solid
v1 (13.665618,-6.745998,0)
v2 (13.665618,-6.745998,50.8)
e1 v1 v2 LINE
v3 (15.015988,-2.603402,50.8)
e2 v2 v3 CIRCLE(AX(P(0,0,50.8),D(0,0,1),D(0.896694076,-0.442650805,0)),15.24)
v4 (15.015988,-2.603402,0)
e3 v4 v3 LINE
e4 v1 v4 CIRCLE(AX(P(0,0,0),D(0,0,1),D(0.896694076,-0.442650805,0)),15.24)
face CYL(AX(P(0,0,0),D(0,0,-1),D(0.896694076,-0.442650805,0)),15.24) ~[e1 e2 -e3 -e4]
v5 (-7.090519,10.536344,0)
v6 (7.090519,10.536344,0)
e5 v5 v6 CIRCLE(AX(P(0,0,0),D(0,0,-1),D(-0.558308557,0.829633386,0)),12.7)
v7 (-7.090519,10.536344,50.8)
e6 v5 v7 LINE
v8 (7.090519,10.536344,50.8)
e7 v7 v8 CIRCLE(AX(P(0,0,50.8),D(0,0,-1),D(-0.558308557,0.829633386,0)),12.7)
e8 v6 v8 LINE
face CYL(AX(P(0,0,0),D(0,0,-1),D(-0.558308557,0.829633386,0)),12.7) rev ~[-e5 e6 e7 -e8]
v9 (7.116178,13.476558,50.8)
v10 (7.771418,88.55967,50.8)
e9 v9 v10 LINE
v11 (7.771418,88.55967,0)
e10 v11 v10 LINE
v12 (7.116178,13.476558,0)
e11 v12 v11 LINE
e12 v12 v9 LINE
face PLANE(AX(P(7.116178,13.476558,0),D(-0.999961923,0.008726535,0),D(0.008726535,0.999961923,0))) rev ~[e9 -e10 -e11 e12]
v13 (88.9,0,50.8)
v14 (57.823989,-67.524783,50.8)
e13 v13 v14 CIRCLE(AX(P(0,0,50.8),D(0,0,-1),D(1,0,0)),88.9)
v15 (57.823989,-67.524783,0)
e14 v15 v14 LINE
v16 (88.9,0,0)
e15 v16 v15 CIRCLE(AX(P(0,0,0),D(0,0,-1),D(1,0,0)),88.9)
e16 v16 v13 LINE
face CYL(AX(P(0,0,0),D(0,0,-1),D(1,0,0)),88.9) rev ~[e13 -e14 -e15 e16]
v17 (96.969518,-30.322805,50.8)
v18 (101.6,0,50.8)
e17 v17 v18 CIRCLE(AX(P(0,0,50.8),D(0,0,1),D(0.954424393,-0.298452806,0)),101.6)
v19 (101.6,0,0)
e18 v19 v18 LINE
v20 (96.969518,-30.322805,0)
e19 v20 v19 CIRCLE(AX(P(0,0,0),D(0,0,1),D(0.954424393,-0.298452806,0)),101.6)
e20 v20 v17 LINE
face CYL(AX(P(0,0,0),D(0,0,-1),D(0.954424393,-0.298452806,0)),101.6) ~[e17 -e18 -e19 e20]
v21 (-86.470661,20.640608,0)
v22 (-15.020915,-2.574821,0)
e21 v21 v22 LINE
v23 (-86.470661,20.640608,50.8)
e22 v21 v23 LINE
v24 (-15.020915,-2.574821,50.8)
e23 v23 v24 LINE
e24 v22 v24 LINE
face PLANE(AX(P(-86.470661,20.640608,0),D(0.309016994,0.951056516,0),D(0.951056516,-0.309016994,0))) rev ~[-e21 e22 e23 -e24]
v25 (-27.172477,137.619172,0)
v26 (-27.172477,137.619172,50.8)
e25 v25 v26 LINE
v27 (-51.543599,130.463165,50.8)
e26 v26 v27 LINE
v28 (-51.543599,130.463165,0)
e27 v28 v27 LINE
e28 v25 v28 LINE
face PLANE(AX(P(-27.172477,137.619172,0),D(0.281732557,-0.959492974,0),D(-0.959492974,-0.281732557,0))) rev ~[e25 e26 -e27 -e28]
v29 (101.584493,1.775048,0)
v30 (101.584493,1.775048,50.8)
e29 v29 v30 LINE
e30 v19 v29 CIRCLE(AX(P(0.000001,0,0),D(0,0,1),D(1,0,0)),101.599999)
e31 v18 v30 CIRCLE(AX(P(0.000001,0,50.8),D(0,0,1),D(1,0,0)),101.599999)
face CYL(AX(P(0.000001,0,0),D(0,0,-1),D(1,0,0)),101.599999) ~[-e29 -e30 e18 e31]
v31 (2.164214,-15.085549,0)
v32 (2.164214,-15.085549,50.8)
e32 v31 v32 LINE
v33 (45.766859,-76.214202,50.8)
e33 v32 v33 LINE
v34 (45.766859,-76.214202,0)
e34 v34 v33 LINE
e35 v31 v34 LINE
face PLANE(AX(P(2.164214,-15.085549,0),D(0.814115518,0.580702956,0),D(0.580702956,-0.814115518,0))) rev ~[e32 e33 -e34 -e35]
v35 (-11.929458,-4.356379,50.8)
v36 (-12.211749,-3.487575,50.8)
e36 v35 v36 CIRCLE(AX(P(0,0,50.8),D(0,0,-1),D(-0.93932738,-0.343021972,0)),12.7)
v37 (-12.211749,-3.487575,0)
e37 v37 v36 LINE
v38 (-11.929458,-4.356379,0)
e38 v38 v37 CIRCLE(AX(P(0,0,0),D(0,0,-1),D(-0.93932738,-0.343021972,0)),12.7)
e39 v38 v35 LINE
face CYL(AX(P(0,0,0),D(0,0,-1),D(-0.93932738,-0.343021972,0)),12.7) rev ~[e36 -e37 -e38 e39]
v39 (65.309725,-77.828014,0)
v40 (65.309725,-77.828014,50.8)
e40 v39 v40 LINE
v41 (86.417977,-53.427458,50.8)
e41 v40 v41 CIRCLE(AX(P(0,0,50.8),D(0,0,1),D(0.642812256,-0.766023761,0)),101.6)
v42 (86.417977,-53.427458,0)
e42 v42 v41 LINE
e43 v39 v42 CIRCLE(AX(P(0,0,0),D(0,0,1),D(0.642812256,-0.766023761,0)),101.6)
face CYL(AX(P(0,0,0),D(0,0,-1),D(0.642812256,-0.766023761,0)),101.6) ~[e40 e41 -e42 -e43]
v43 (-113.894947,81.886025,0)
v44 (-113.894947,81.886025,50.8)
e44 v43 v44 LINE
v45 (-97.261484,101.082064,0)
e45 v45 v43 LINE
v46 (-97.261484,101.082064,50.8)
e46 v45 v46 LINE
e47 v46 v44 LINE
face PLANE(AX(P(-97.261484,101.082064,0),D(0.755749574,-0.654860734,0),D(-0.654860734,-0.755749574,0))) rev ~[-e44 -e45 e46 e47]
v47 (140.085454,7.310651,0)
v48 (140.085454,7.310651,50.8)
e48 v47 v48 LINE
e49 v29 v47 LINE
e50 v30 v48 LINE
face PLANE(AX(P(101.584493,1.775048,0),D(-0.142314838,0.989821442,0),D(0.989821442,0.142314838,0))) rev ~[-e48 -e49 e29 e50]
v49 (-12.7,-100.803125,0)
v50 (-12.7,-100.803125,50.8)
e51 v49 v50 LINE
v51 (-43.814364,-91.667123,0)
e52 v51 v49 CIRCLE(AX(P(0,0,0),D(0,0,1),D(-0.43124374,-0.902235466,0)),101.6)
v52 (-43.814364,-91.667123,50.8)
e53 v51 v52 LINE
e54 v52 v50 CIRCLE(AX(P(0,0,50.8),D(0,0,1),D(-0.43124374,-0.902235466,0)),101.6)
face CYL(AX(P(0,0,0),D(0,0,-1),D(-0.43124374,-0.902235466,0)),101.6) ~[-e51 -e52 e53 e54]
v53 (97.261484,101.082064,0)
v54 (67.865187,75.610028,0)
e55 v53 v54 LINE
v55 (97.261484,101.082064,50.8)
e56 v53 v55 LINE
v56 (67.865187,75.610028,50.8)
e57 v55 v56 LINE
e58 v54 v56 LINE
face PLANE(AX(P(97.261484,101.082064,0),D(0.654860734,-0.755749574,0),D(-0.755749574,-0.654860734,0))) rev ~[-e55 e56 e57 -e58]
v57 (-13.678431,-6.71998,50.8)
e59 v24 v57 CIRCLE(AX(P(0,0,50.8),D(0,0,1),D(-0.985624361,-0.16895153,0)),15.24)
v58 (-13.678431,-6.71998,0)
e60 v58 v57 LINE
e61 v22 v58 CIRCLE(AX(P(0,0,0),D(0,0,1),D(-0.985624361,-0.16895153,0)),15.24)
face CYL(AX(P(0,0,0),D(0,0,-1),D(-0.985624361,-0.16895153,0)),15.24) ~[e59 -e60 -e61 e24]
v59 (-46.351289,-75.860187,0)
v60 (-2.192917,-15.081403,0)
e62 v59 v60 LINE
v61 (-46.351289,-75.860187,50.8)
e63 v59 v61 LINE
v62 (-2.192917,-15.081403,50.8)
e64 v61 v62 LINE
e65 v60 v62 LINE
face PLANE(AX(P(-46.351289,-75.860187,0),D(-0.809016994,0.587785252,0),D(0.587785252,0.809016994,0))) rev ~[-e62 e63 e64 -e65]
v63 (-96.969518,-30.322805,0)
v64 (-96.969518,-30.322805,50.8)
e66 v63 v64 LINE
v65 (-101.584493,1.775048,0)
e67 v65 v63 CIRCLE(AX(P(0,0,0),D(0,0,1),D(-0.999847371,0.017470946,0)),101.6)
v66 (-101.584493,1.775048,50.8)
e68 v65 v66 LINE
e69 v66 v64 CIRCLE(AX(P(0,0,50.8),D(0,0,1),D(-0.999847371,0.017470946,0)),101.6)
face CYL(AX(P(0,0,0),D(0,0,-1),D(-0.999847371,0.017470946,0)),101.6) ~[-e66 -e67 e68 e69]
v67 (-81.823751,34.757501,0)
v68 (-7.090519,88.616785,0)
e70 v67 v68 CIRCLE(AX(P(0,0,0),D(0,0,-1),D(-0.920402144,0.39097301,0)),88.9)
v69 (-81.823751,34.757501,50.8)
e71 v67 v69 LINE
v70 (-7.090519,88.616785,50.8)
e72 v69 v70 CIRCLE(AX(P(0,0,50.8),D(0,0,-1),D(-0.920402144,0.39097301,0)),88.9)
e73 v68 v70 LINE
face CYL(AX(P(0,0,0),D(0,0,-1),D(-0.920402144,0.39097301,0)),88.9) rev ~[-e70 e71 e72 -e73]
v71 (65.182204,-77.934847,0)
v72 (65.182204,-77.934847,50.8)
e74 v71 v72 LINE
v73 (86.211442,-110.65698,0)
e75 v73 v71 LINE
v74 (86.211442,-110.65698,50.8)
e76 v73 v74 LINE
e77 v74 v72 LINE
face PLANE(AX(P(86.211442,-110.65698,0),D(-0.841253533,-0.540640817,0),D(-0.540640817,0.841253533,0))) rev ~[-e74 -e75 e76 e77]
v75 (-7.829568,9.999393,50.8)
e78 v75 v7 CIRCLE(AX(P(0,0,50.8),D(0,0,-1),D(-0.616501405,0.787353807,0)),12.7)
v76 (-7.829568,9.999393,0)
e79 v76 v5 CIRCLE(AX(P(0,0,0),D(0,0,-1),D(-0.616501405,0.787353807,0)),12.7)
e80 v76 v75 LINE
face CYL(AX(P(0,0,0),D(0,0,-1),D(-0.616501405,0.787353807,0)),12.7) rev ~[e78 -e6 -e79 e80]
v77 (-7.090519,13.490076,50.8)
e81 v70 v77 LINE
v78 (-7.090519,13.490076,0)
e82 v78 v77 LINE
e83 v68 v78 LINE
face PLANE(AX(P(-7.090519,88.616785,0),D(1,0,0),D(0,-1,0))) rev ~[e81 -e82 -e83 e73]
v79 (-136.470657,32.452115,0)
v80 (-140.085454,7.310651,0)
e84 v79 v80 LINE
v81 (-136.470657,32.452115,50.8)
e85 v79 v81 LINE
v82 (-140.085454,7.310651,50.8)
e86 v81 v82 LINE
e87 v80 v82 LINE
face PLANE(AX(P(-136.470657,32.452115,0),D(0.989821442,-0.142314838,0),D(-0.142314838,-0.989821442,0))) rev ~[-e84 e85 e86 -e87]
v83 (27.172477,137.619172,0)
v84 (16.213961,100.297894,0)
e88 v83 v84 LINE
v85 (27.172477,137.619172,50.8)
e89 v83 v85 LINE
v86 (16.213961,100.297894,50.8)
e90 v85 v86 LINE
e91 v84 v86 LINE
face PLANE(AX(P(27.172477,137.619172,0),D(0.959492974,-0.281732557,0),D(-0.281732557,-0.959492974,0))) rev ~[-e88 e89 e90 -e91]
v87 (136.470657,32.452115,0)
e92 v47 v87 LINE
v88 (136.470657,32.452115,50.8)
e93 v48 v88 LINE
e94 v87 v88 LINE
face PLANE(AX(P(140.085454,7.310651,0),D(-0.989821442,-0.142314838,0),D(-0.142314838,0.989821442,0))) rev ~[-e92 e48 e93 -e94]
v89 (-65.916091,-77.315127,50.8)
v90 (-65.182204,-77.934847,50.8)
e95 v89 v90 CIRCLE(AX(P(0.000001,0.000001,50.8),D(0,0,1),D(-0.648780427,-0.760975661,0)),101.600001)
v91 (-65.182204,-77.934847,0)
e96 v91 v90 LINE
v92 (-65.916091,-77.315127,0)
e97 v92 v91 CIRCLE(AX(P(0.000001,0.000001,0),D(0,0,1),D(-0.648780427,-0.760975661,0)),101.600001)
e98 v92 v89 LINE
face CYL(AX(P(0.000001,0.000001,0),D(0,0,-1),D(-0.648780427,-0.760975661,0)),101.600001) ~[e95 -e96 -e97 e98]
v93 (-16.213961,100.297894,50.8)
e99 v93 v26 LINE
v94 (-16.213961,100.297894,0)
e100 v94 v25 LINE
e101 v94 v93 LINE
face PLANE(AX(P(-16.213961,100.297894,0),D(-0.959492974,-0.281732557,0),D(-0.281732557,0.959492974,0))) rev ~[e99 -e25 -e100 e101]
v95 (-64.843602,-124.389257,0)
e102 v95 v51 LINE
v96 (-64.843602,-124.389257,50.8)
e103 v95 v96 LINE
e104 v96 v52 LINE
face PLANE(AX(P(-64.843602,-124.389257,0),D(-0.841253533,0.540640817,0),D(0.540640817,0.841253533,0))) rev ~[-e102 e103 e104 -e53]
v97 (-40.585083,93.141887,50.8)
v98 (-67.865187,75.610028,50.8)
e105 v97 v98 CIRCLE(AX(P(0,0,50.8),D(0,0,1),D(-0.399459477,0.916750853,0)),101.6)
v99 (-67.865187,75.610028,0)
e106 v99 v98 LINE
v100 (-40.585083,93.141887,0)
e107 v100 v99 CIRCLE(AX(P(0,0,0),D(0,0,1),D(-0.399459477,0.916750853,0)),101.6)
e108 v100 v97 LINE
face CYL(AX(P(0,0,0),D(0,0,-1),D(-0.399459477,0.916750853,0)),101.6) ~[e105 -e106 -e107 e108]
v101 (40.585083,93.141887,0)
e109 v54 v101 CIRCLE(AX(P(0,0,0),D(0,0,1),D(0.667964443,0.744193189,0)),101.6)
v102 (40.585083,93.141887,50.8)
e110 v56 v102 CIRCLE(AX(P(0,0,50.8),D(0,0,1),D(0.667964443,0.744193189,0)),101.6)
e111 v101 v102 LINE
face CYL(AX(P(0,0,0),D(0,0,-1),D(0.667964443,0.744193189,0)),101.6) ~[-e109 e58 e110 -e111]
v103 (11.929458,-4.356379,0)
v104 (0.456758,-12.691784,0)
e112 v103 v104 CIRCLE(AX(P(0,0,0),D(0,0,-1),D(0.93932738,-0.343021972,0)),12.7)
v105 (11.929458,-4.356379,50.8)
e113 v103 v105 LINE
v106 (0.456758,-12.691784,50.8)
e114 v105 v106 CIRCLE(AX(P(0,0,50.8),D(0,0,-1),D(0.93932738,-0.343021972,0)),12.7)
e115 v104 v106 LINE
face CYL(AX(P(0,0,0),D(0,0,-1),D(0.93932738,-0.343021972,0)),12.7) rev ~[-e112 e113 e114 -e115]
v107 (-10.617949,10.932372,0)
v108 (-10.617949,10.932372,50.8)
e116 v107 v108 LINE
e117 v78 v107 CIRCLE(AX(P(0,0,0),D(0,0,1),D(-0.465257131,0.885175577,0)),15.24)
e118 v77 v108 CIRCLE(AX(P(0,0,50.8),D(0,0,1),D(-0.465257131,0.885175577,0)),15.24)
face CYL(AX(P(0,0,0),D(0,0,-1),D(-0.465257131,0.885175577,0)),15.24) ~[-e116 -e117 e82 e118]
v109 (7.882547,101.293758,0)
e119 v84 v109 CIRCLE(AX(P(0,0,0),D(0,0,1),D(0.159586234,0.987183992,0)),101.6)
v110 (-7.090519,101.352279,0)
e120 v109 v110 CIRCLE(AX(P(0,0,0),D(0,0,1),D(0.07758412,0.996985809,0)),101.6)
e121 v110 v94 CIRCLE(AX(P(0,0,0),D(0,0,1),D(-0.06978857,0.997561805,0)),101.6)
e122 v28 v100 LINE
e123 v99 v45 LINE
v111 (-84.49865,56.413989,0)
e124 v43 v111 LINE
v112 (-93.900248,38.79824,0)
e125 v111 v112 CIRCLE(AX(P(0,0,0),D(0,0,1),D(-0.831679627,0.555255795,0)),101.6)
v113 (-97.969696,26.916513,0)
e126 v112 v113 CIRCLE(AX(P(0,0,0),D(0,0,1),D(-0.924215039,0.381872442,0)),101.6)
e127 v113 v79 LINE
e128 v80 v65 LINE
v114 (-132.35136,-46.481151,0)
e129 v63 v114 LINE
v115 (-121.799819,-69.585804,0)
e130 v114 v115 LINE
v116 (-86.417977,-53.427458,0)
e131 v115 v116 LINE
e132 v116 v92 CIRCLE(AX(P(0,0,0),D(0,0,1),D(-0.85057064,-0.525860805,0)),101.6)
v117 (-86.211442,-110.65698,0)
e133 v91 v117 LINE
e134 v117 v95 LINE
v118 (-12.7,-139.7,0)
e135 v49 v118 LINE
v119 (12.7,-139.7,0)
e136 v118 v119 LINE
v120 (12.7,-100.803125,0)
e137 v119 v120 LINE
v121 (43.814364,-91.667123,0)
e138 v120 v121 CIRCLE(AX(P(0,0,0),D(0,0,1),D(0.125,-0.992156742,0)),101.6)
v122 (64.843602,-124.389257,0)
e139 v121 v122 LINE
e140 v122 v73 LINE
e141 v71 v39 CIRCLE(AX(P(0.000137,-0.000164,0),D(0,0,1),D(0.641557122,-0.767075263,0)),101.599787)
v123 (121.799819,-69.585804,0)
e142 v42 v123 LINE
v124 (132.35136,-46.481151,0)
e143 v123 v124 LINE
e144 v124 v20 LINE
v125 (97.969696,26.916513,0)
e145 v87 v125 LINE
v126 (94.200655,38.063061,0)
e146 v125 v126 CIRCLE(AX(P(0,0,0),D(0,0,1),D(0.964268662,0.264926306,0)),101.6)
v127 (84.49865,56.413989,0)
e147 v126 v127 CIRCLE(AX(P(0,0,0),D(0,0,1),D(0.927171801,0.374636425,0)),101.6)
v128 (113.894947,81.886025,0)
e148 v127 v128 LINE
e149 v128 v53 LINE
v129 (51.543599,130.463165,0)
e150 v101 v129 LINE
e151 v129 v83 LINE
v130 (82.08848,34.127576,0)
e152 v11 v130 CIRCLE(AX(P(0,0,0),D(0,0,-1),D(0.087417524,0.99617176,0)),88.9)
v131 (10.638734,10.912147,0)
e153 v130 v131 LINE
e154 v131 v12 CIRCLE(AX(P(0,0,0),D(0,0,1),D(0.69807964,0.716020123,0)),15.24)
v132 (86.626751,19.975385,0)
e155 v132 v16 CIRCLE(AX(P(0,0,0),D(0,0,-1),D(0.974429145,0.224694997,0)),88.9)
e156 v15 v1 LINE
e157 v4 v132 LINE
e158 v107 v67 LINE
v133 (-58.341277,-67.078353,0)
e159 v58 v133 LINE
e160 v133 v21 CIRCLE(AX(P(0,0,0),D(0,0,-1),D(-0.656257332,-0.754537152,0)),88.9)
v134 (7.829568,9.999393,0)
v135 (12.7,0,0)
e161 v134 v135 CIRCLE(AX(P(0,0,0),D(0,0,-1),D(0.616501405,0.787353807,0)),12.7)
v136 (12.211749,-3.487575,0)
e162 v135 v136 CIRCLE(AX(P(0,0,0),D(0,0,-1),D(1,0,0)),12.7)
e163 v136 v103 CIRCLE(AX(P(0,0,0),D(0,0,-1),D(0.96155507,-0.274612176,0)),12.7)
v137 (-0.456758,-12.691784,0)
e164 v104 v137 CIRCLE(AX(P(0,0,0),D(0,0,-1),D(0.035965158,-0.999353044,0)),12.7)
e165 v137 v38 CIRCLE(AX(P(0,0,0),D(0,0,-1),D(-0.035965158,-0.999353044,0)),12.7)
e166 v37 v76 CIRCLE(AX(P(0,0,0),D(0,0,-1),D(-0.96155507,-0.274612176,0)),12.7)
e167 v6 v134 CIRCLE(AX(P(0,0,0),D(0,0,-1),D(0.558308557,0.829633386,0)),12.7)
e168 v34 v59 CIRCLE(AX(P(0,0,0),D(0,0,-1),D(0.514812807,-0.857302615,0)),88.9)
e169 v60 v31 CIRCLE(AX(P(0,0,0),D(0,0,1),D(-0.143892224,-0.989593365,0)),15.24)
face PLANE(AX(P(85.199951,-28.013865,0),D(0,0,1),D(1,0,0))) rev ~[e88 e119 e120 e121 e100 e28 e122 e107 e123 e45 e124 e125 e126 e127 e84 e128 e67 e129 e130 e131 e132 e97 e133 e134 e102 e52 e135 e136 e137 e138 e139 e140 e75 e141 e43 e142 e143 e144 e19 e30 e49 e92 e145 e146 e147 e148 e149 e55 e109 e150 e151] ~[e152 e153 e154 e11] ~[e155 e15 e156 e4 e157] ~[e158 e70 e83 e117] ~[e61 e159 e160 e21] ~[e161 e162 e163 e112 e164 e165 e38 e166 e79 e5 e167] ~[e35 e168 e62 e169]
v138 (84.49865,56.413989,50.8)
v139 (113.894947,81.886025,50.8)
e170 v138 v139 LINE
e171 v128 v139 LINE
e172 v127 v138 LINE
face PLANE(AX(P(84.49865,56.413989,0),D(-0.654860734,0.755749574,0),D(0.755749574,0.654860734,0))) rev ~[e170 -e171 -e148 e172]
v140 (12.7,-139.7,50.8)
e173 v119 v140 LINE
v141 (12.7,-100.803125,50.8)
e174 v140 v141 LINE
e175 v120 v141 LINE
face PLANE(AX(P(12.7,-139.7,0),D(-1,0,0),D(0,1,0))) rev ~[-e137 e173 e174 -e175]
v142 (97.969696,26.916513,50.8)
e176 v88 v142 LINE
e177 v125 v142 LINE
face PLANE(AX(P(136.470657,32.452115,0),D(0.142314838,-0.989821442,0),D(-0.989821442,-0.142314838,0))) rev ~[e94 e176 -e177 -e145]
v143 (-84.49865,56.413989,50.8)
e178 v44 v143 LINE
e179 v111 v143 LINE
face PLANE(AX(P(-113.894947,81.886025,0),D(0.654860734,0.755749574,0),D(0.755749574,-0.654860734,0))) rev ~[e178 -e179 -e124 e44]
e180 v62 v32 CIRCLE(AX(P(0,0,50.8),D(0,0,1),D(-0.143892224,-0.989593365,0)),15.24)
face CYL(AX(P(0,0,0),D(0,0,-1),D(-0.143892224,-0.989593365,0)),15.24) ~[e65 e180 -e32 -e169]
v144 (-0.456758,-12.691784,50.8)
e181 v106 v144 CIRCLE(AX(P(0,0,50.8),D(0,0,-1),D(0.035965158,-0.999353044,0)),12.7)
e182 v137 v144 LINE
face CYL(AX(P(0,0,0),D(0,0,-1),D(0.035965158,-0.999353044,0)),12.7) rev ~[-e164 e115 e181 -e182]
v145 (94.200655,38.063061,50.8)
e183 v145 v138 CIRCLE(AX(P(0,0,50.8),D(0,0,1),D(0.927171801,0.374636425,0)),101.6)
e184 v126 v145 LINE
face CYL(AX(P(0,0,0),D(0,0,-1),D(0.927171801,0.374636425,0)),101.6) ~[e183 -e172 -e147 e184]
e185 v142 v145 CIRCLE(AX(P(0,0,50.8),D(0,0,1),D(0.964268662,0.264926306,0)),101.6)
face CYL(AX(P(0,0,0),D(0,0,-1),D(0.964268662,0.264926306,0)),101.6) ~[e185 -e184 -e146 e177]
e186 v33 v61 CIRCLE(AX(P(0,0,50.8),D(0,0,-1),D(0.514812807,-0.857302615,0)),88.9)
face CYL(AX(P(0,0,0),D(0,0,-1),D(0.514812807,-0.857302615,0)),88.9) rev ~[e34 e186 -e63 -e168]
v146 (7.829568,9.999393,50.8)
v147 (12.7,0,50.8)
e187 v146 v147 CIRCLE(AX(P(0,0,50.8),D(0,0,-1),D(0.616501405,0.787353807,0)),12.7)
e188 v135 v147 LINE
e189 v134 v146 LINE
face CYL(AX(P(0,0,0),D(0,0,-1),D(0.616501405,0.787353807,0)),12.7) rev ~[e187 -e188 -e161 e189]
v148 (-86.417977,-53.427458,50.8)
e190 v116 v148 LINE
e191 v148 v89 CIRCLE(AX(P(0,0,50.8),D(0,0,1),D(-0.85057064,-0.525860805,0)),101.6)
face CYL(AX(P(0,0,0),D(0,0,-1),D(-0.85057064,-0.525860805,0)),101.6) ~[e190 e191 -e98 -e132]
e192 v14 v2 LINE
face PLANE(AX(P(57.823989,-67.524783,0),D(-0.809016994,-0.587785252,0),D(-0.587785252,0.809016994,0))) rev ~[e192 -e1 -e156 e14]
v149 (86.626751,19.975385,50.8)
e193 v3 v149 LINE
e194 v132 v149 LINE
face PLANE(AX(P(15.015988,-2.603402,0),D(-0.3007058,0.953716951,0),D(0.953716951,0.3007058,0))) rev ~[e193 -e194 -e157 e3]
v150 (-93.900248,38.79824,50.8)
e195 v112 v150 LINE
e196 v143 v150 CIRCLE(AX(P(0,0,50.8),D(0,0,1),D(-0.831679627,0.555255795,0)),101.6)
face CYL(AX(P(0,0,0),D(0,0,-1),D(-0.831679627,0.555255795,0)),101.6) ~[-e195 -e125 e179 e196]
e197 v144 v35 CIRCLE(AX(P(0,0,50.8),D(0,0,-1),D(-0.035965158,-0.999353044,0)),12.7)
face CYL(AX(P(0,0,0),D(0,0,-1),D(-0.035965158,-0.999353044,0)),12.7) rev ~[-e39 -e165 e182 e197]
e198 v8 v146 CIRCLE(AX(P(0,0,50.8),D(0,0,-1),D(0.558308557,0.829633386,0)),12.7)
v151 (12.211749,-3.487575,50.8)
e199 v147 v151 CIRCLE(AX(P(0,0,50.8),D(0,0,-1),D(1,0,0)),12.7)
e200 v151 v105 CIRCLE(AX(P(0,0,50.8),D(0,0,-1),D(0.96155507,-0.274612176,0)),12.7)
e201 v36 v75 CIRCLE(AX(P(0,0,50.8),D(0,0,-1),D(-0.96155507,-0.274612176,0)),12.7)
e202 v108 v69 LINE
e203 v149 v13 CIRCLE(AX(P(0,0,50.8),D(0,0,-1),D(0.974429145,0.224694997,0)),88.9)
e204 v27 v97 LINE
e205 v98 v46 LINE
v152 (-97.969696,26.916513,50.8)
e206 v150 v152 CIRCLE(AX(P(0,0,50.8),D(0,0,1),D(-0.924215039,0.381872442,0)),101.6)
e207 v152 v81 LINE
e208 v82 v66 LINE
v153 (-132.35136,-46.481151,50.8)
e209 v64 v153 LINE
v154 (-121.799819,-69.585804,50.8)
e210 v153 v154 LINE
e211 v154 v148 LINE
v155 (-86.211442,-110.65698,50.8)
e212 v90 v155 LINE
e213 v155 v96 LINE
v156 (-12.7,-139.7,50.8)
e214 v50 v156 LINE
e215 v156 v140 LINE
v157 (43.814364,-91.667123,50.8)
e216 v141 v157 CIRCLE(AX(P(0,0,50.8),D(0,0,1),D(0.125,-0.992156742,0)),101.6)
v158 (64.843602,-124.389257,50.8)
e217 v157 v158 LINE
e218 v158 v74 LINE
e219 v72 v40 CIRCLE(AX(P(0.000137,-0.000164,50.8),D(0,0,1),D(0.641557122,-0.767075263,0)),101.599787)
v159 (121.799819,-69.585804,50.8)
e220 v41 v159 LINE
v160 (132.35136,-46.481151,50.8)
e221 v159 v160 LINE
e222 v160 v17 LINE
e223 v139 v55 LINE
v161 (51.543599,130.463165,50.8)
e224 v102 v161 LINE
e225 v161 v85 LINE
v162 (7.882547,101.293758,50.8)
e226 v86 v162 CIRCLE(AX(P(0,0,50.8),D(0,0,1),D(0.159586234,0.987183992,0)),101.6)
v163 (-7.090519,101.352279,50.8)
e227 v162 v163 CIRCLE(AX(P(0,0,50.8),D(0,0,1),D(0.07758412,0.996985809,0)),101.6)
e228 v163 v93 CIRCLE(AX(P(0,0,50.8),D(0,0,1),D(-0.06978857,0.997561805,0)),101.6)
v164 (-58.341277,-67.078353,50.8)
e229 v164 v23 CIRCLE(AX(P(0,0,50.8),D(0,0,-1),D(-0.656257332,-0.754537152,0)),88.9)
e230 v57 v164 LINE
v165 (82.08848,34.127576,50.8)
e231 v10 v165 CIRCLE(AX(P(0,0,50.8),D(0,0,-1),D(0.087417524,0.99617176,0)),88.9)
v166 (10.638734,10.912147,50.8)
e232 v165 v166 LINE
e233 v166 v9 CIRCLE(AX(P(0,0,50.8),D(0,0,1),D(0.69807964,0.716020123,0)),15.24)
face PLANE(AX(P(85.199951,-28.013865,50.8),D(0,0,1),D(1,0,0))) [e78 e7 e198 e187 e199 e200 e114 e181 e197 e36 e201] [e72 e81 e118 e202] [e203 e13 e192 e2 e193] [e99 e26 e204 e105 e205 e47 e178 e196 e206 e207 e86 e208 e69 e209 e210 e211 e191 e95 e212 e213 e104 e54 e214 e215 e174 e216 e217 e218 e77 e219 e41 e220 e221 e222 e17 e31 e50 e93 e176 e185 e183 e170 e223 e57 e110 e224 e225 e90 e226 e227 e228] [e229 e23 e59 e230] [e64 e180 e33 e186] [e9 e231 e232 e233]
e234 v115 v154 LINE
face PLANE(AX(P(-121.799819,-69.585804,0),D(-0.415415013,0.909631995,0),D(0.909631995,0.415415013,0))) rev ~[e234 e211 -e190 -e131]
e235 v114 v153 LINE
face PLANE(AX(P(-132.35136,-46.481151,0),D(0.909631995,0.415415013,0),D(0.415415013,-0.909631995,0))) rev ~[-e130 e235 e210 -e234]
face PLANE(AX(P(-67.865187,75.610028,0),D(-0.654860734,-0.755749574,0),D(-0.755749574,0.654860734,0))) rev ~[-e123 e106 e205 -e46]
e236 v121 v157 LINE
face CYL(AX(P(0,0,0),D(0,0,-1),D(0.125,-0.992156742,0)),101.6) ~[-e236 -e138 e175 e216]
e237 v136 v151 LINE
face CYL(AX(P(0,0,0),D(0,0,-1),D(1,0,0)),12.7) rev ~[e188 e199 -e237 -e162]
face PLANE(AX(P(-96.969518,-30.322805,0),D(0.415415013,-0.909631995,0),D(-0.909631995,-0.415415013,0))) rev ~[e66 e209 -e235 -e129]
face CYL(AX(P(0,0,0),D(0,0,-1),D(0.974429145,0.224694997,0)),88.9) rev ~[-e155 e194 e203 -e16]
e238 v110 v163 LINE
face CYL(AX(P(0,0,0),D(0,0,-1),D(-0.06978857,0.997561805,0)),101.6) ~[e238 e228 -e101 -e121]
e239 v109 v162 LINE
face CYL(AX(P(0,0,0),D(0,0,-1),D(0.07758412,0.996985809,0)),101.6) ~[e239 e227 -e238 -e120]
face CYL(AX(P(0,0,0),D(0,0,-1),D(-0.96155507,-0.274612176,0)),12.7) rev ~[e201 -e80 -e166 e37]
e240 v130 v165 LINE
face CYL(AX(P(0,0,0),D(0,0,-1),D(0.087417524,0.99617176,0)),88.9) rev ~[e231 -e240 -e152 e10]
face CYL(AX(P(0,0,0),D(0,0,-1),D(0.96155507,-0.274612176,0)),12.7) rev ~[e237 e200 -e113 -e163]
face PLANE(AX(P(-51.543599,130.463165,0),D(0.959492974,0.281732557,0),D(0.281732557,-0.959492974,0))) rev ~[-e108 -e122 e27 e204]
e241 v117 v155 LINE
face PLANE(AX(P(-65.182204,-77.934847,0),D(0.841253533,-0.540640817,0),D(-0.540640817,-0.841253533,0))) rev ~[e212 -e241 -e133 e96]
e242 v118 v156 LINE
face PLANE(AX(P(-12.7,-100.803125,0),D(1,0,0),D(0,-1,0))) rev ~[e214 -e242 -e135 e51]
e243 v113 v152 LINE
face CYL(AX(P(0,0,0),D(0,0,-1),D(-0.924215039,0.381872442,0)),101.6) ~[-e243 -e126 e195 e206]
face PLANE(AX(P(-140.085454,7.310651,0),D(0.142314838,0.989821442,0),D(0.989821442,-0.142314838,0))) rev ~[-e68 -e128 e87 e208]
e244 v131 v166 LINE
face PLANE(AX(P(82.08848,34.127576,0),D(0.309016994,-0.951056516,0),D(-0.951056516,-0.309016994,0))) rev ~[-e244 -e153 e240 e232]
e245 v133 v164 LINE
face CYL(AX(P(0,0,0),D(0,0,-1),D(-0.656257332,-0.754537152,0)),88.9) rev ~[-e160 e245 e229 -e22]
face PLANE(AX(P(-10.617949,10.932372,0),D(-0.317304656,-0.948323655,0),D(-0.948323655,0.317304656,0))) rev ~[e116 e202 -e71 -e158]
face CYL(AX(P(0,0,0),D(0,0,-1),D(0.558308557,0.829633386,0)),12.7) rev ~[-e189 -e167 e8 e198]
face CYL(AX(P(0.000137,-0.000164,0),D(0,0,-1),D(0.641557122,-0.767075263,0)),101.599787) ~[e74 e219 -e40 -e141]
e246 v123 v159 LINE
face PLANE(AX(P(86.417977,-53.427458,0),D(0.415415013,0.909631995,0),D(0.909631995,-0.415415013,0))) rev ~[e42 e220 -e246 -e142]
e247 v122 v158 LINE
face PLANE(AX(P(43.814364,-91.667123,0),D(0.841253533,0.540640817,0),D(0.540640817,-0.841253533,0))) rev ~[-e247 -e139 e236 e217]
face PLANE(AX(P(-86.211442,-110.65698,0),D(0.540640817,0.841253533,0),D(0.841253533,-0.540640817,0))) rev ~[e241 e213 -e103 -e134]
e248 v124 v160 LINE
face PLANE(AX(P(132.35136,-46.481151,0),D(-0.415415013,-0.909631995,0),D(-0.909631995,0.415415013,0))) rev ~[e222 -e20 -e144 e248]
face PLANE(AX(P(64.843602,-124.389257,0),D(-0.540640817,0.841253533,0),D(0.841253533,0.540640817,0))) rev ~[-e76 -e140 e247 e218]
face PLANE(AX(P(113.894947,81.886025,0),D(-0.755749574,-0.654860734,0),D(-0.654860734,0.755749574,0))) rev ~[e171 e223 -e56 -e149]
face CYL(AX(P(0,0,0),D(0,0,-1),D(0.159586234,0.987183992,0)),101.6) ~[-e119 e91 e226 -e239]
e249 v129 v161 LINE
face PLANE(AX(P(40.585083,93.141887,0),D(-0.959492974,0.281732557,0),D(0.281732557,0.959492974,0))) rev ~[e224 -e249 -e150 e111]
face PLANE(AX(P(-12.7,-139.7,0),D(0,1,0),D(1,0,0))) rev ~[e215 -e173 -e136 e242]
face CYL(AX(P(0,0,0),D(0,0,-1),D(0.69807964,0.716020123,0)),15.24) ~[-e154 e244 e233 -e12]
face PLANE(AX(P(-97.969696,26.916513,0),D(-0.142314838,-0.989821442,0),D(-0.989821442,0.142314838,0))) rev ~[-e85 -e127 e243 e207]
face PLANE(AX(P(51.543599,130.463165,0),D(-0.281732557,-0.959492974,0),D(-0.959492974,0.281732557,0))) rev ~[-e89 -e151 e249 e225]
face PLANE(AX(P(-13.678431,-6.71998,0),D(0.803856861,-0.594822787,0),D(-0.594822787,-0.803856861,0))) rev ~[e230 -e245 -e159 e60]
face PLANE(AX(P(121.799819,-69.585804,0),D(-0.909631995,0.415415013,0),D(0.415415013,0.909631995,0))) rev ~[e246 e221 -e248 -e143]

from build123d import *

# Parameters (mm, degrees)
F1_DEPTH = 50.8


with BuildPart() as f1:
    # F0 (on Top) → F1 (new body)
    with BuildSketch(Plane.XY):
        with BuildLine():
            ThreePointArc((96.9695183528, -30.3228051214), (100.4357084523, -15.3371597005), (101.6, 0))
            ThreePointArc((101.6, 0), (101.596123159, 0.8875579239), (101.5844929317, 1.775048113))
            ThreePointArc((101.5844929317, 1.775048113), (100.7819473579, 12.8669765974), (98.7719297038, 23.8047453796))
            Line((98.7719297038, 23.8047453796), (86.6267509761, 19.975385236))
            ThreePointArc((86.6267509761, 19.975385236), (88.329859509, 10.0521599228), (88.9, 0))
            ThreePointArc((88.9, 0), (80.758165685, -37.1662303064), (57.8239893096, -67.5247825641))
            Line((57.8239893096, -67.5247825641), (65.3097252428, -77.828014164))
            ThreePointArc((65.3097252428, -77.828014164), (76.8386016033, -66.4709658697), (86.4179770225, -53.4274578034))
            ThreePointArc((86.4179770225, -53.4274578034), (92.418610728, -42.206165321), (96.9695183528, -30.3228051214))
        make_face()
        with BuildLine():
            ThreePointArc((98.7719297038, 23.8047453796), (100.7819473579, 12.8669765974), (101.5844929317, 1.775048113))
            Line((101.5844929317, 1.775048113), (140.0854538768, 7.3106505949))
            Line((140.0854538768, 7.3106505949), (136.4706569847, 32.4521152187))
            Line((136.4706569847, 32.4521152187), (97.9696960396, 26.9165127368))
            ThreePointArc((97.9696960396, 26.9165127368), (98.383116433, 25.3638009955), (98.7719297038, 23.8047453796))
        make_face()
        with BuildLine():
            Line((132.3513604162, -46.4811509754), (96.9695183528, -30.3228051214))
            ThreePointArc((96.9695183528, -30.3228051214), (92.418610728, -42.206165321), (86.4179770225, -53.4274578034))
            Line((86.4179770225, -53.4274578034), (121.7998190859, -69.5858036574))
            Line((121.7998190859, -69.5858036574), (132.3513604162, -46.4811509754))
        make_face()
        with BuildLine():
            Line((86.6267509761, 19.975385236), (98.7719297038, 23.8047453796))
            ThreePointArc((98.7719297038, 23.8047453796), (98.383116433, 25.3638009955), (97.9696960396, 26.9165127368))
            ThreePointArc((97.9696960396, 26.9165127368), (96.2466744343, 32.5443952215), (94.200655019, 38.0630607545))
            Line((94.200655019, 38.0630607545), (82.0884798482, 34.1275764773))
            ThreePointArc((82.0884798482, 34.1275764773), (84.653874142, 27.1464839849), (86.6267509761, 19.975385236))
        make_face()
        with BuildLine():
            ThreePointArc((65.1822037428, -77.9348466042), (65.2459863585, -77.8814564843), (65.3097252428, -77.828014164))
            Line((65.3097252428, -77.828014164), (57.8239893096, -67.5247825641))
            ThreePointArc((57.8239893096, -67.5247825641), (51.9773262379, -72.1218937435), (45.7668585133, -76.2142024942))
            Line((45.7668585133, -76.2142024942), (53.1618630577, -86.5816165028))
            ThreePointArc((53.1618630577, -86.5816165028), (59.3297665101, -82.4775048474), (65.1822037428, -77.9348466042))
        make_face()
        with BuildLine():
            Line((82.0884798482, 34.1275764773), (94.200655019, 38.0630607545))
            ThreePointArc((94.200655019, 38.0630607545), (89.8195388109, 47.4869502894), (84.4986500968, 56.4139887955))
            ThreePointArc((84.4986500968, 56.4139887955), (76.7841567544, 66.5338505688), (67.8651874546, 75.6100279841))
            ThreePointArc((67.8651874546, 75.6100279841), (54.9291070535, 85.4713589356), (40.5850828951, 93.1418866375))
            ThreePointArc((40.5850828951, 93.1418866375), (28.6240277751, 97.4844861192), (16.2139613653, 100.2978935813))
            ThreePointArc((16.2139613653, 100.2978935813), (12.0585389265, 100.8818697237), (7.8825466337, 101.2937582409))
            Line((7.8825466337, 101.2937582409), (7.7714179249, 88.5596695084))
            ThreePointArc((7.7714179249, 88.5596695084), (52.5301198826, 71.7202656515), (82.0884798482, 34.1275764773))
        make_face()
        with BuildLine():
            Line((86.2114420655, -110.6569801548), (65.1822037428, -77.9348466042))
            ThreePointArc((65.1822037428, -77.9348466042), (59.3297665101, -82.4775048474), (53.1618630577, -86.5816165028))
            ThreePointArc((53.1618630577, -86.5816165028), (48.5547397175, -89.2468332825), (43.8143640089, -91.6671233676))
            Line((43.8143640089, -91.6671233676), (64.8436023316, -124.3892569182))
            Line((64.8436023316, -124.3892569182), (86.2114420655, -110.6569801548))
        make_face()
        with BuildLine():
            ThreePointArc((67.8651874546, 75.6100279841), (76.7841567544, 66.5338505688), (84.4986500968, 56.4139887955))
            Line((84.4986500968, 56.4139887955), (113.8949468584, 81.8860249379))
            Line((113.8949468584, 81.8860249379), (97.2614842162, 101.0820641265))
            Line((97.2614842162, 101.0820641265), (67.8651874546, 75.6100279841))
        make_face()
        with BuildLine():
            ThreePointArc((-7.0905186786, 88.6167847807), (0.3416452612, 88.8993435213), (7.7714179249, 88.5596695084))
            Line((7.7714179249, 88.5596695084), (7.8825466337, 101.2937582409))
            ThreePointArc((7.8825466337, 101.2937582409), (0.3970935062, 101.5992239968), (-7.0905186786, 101.3522794261))
            Line((-7.0905186786, 101.3522794261), (-7.0905186786, 88.6167847807))
        make_face()
        with BuildLine():
            ThreePointArc((43.8143640089, -91.6671233676), (48.5547397175, -89.2468332825), (53.1618630577, -86.5816165028))
            Line((53.1618630577, -86.5816165028), (45.7668585133, -76.2142024942))
            ThreePointArc((45.7668585133, -76.2142024942), (-0.3416452612, -88.8993435213), (-46.3512890898, -75.8601871848))
            Line((-46.3512890898, -75.8601871848), (-53.837025023, -86.1634187847))
            ThreePointArc((-53.837025023, -86.1634187847), (-48.9031812462, -89.0563802543), (-43.8143640089, -91.6671233676))
            ThreePointArc((-43.8143640089, -91.6671233676), (-28.6240277751, -97.4844861192), (-12.7, -100.8031249516))
            ThreePointArc((-12.7, -100.8031249516), (0, -101.6), (12.7, -100.8031249516))
            ThreePointArc((12.7, -100.8031249516), (28.6240277751, -97.4844861192), (43.8143640089, -91.6671233676))
        make_face()
        with BuildLine():
            ThreePointArc((-81.8237505577, 34.7575005526), (-51.9773262379, 72.1218937435), (-7.0905186786, 88.6167847807))
            Line((-7.0905186786, 88.6167847807), (-7.0905186786, 101.3522794261))
            ThreePointArc((-7.0905186786, 101.3522794261), (-11.66416006, 100.9282288069), (-16.2139613653, 100.2978935813))
            ThreePointArc((-16.2139613653, 100.2978935813), (-28.6240277751, 97.4844861192), (-40.5850828951, 93.1418866375))
            ThreePointArc((-40.5850828951, 93.1418866375), (-54.9291070535, 85.4713589356), (-67.8651874546, 75.6100279841))
            ThreePointArc((-67.8651874546, 75.6100279841), (-76.7841567544, 66.5338505688), (-84.4986500968, 56.4139887955))
            ThreePointArc((-84.4986500968, 56.4139887955), (-89.6332547574, 47.8376383364), (-93.9002479663, 38.7982400615))
            Line((-93.9002479663, 38.7982400615), (-81.8237505577, 34.7575005526))
        make_face()
        with BuildLine():
            Line((-53.837025023, -86.1634187847), (-46.3512890898, -75.8601871848))
            ThreePointArc((-46.3512890898, -75.8601871848), (-52.5301198826, -71.7202656515), (-58.3412768566, -67.0783528029))
            Line((-58.3412768566, -67.0783528029), (-65.9160914289, -77.3151271792))
            ThreePointArc((-65.9160914289, -77.3151271792), (-65.5498799562, -77.6258541835), (-65.1822037428, -77.9348466042))
            ThreePointArc((-65.1822037428, -77.9348466042), (-59.6516684933, -82.2449904004), (-53.837025023, -86.1634187847))
        make_face()
        with BuildLine():
            ThreePointArc((16.2139613653, 100.2978935813), (28.6240277751, 97.4844861192), (40.5850828951, 93.1418866375))
            Line((40.5850828951, 93.1418866375), (51.5435989557, 130.4631649421))
            Line((51.5435989557, 130.4631649421), (27.1724774258, 137.6191718858))
            Line((27.1724774258, 137.6191718858), (16.2139613653, 100.2978935813))
        make_face()
        with BuildLine():
            ThreePointArc((-86.4706613894, 20.6406084909), (-84.4427257585, 27.7963318888), (-81.8237505577, 34.7575005526))
            Line((-81.8237505577, 34.7575005526), (-93.9002479663, 38.7982400615))
            ThreePointArc((-93.9002479663, 38.7982400615), (-96.1187427834, 32.9203172181), (-97.9696960396, 26.9165127368))
            ThreePointArc((-97.9696960396, 26.9165127368), (-98.2832331034, 25.7481279076), (-98.5828365602, 24.5760927681))
            Line((-98.5828365602, 24.5760927681), (-86.4706613894, 20.6406084909))
        make_face()
        with BuildLine():
            Line((12.7, -139.7), (12.7, -100.8031249516))
            ThreePointArc((12.7, -100.8031249516), (0, -101.6), (-12.7, -100.8031249516))
            Line((-12.7, -100.8031249516), (-12.7, -139.7))
            Line((-12.7, -139.7), (12.7, -139.7))
        make_face()
        with BuildLine():
            ThreePointArc((-43.8143640089, -91.6671233676), (-48.9031812462, -89.0563802543), (-53.837025023, -86.1634187847))
            ThreePointArc((-53.837025023, -86.1634187847), (-59.6516684933, -82.2449904004), (-65.1822037428, -77.9348466042))
            Line((-65.1822037428, -77.9348466042), (-86.2114420655, -110.6569801548))
            Line((-86.2114420655, -110.6569801548), (-64.8436023316, -124.3892569182))
            Line((-64.8436023316, -124.3892569182), (-43.8143640089, -91.6671233676))
        make_face()
        with BuildLine():
            Line((-65.9160914289, -77.3151271792), (-58.3412768566, -67.0783528029))
            ThreePointArc((-58.3412768566, -67.0783528029), (-84.653874142, -27.1464839849), (-86.4706613894, 20.6406084909))
            Line((-86.4706613894, 20.6406084909), (-98.5828365602, 24.5760927681))
            ThreePointArc((-98.5828365602, 24.5760927681), (-100.7308883031, 13.2607745505), (-101.5844929317, 1.775048113))
            ThreePointArc((-101.5844929317, 1.775048113), (-100.5658584951, -14.4591875686), (-96.9695183528, -30.3228051214))
            ThreePointArc((-96.9695183528, -30.3228051214), (-92.418610728, -42.206165321), (-86.4179770225, -53.4274578034))
            ThreePointArc((-86.4179770225, -53.4274578034), (-77.0978098897, -66.1701421353), (-65.9160914289, -77.3151271792))
        make_face()
        with BuildLine():
            ThreePointArc((-40.5850828951, 93.1418866375), (-28.6240277751, 97.4844861192), (-16.2139613653, 100.2978935813))
            Line((-16.2139613653, 100.2978935813), (-27.1724774258, 137.6191718858))
            Line((-27.1724774258, 137.6191718858), (-51.5435989557, 130.4631649421))
            Line((-51.5435989557, 130.4631649421), (-40.5850828951, 93.1418866375))
        make_face()
        with BuildLine():
            Line((-113.8949468584, 81.8860249379), (-84.4986500968, 56.4139887955))
            ThreePointArc((-84.4986500968, 56.4139887955), (-76.7841567544, 66.5338505688), (-67.8651874546, 75.6100279841))
            Line((-67.8651874546, 75.6100279841), (-97.2614842162, 101.0820641265))
            Line((-97.2614842162, 101.0820641265), (-113.8949468584, 81.8860249379))
        make_face()
        with BuildLine():
            ThreePointArc((-98.5828365602, 24.5760927681), (-98.2832331034, 25.7481279076), (-97.9696960396, 26.9165127368))
            Line((-97.9696960396, 26.9165127368), (-136.4706569847, 32.4521152187))
            Line((-136.4706569847, 32.4521152187), (-140.0854538768, 7.3106505949))
            Line((-140.0854538768, 7.3106505949), (-101.5844929317, 1.775048113))
            ThreePointArc((-101.5844929317, 1.775048113), (-100.7308883031, 13.2607745505), (-98.5828365602, 24.5760927681))
        make_face()
        with BuildLine():
            Line((-121.7998190859, -69.5858036574), (-86.4179770225, -53.4274578034))
            ThreePointArc((-86.4179770225, -53.4274578034), (-92.418610728, -42.206165321), (-96.9695183528, -30.3228051214))
            Line((-96.9695183528, -30.3228051214), (-132.3513604162, -46.4811509754))
            Line((-132.3513604162, -46.4811509754), (-121.7998190859, -69.5858036574))
        make_face()
        with BuildLine():
            Line((-7.8295678477, 9.9993933475), (-10.6179485696, 10.932372486))
            ThreePointArc((-10.6179485696, 10.932372486), (-14.4896137183, 4.7232080512), (-15.0209152577, -2.5748213181))
            Line((-15.0209152577, -2.5748213181), (-12.2117493889, -3.4875746388))
            ThreePointArc((-12.2117493889, -3.4875746388), (-12.0784177569, 3.9245158286), (-7.8295678477, 9.9993933475))
        make_face()
        with BuildLine():
            Line((7.0905186786, 10.5363439992), (7.116177538, 13.4765580638))
            ThreePointArc((7.116177538, 13.4765580638), (0.0145009141, 15.2399931012), (-7.0905186786, 13.4900757918))
            Line((-7.0905186786, 13.4900757918), (-7.0905186786, 10.5363439992))
            ThreePointArc((-7.0905186786, 10.5363439992), (0, 12.7), (7.0905186786, 10.5363439992))
        make_face()
        with BuildLine():
            ThreePointArc((2.1642135184, -15.0855487088), (8.946111704, -12.3379368364), (13.6656177126, -6.7459982606))
            Line((13.6656177126, -6.7459982606), (11.9294577257, -4.3563790435))
            ThreePointArc((11.9294577257, -4.3563790435), (7.4648727041, -10.2745158286), (0.4567575059, -12.6917836643))
            Line((0.4567575059, -12.6917836643), (2.1642135184, -15.0855487088))
        make_face()
        with BuildLine():
            ThreePointArc((-13.6784306448, -6.7199802898), (-8.9695746758, -12.3208899896), (-2.1929174928, -15.0814028814))
            Line((-2.1929174928, -15.0814028814), (-0.4567575059, -12.6917836643))
            ThreePointArc((-0.4567575059, -12.6917836643), (-7.4648727041, -10.2745158286), (-11.9294577257, -4.3563790435))
            Line((-11.9294577257, -4.3563790435), (-13.6784306448, -6.7199802898))
        make_face()
        with BuildLine():
            Line((12.2117493889, -3.4875746388), (15.0159881581, -2.6034015512))
            ThreePointArc((15.0159881581, -2.6034015512), (15.1838937616, -1.3065107101), (15.24, 0))
            ThreePointArc((15.24, 0), (14.0426475751, 5.921287789), (10.6387337165, 10.9121466682))
            Line((10.6387337165, 10.9121466682), (7.8295678477, 9.9993933475))
            ThreePointArc((7.8295678477, 9.9993933475), (11.4176510646, 5.5612268581), (12.7, 0))
            ThreePointArc((12.7, 0), (12.5773450545, -1.7607928272), (12.2117493889, -3.4875746388))
        make_face()
        with BuildLine():
            ThreePointArc((-58.3412768566, -67.0783528029), (-52.5301198826, -71.7202656515), (-46.3512890898, -75.8601871848))
            Line((-46.3512890898, -75.8601871848), (-2.1929174928, -15.0814028814))
            ThreePointArc((-2.1929174928, -15.0814028814), (-8.9695746758, -12.3208899896), (-13.6784306448, -6.7199802898))
            Line((-13.6784306448, -6.7199802898), (-58.3412768566, -67.0783528029))
        make_face()
        with BuildLine():
            ThreePointArc((45.7668585133, -76.2142024942), (51.9773262379, -72.1218937435), (57.8239893096, -67.5247825641))
            Line((57.8239893096, -67.5247825641), (13.6656177126, -6.7459982606))
            ThreePointArc((13.6656177126, -6.7459982606), (8.946111704, -12.3379368364), (2.1642135184, -15.0855487088))
            Line((2.1642135184, -15.0855487088), (45.7668585133, -76.2142024942))
        make_face()
        with BuildLine():
            Line((-10.6179485696, 10.932372486), (-81.8237505577, 34.7575005526))
            ThreePointArc((-81.8237505577, 34.7575005526), (-84.4427257585, 27.7963318888), (-86.4706613894, 20.6406084909))
            Line((-86.4706613894, 20.6406084909), (-15.0209152577, -2.5748213181))
            ThreePointArc((-15.0209152577, -2.5748213181), (-14.4896137183, 4.7232080512), (-10.6179485696, 10.932372486))
        make_face()
        with BuildLine():
            ThreePointArc((-15.0209152577, -2.5748213181), (-14.498575776, -4.6956256736), (-13.6784306448, -6.7199802898))
            Line((-13.6784306448, -6.7199802898), (-11.9294577257, -4.3563790435))
            ThreePointArc((-11.9294577257, -4.3563790435), (-12.0784177569, -3.9245158286), (-12.2117493889, -3.4875746388))
            Line((-12.2117493889, -3.4875746388), (-15.0209152577, -2.5748213181))
        make_face()
        with BuildLine():
            Line((-7.0905186786, 10.5363439992), (-7.0905186786, 13.4900757918))
            ThreePointArc((-7.0905186786, 13.4900757918), (-8.946111704, 12.3379368364), (-10.6179485696, 10.932372486))
            Line((-10.6179485696, 10.932372486), (-7.8295678477, 9.9993933475))
            ThreePointArc((-7.8295678477, 9.9993933475), (-7.4648727041, 10.2745158286), (-7.0905186786, 10.5363439992))
        make_face()
        with BuildLine():
            Line((7.8295678477, 9.9993933475), (10.6387337165, 10.9121466682))
            ThreePointArc((10.6387337165, 10.9121466682), (8.9695746758, 12.3208899896), (7.116177538, 13.4765580638))
            Line((7.116177538, 13.4765580638), (7.0905186786, 10.5363439992))
            ThreePointArc((7.0905186786, 10.5363439992), (7.4648727041, 10.2745158286), (7.8295678477, 9.9993933475))
        make_face()
        with BuildLine():
            Line((15.0159881581, -2.6034015512), (86.6267509761, 19.975385236))
            ThreePointArc((86.6267509761, 19.975385236), (84.653874142, 27.1464839849), (82.0884798482, 34.1275764773))
            Line((82.0884798482, 34.1275764773), (10.6387337165, 10.9121466682))
            ThreePointArc((10.6387337165, 10.9121466682), (14.0426475751, 5.921287789), (15.24, 0))
            ThreePointArc((15.24, 0), (15.1838937616, -1.3065107101), (15.0159881581, -2.6034015512))
        make_face()
        with BuildLine():
            Line((7.116177538, 13.4765580638), (7.7714179249, 88.5596695084))
            ThreePointArc((7.7714179249, 88.5596695084), (0.3416452612, 88.8993435213), (-7.0905186786, 88.6167847807))
            Line((-7.0905186786, 88.6167847807), (-7.0905186786, 13.4900757918))
            ThreePointArc((-7.0905186786, 13.4900757918), (0.0145009141, 15.2399931012), (7.116177538, 13.4765580638))
        make_face()
        with BuildLine():
            ThreePointArc((-2.1929174928, -15.0814028814), (-0.0145009141, -15.2399931012), (2.1642135184, -15.0855487088))
            Line((2.1642135184, -15.0855487088), (0.4567575059, -12.6917836643))
            ThreePointArc((0.4567575059, -12.6917836643), (0, -12.7), (-0.4567575059, -12.6917836643))
            Line((-0.4567575059, -12.6917836643), (-2.1929174928, -15.0814028814))
        make_face()
        with BuildLine():
            ThreePointArc((13.6656177126, -6.7459982606), (14.4896137183, -4.7232080512), (15.0159881581, -2.6034015512))
            Line((15.0159881581, -2.6034015512), (12.2117493889, -3.4875746388))
            ThreePointArc((12.2117493889, -3.4875746388), (12.0784177569, -3.9245158286), (11.9294577257, -4.3563790435))
            Line((11.9294577257, -4.3563790435), (13.6656177126, -6.7459982606))
        make_face()
    extrude(amount=F1_DEPTH)


solid = f1.part
